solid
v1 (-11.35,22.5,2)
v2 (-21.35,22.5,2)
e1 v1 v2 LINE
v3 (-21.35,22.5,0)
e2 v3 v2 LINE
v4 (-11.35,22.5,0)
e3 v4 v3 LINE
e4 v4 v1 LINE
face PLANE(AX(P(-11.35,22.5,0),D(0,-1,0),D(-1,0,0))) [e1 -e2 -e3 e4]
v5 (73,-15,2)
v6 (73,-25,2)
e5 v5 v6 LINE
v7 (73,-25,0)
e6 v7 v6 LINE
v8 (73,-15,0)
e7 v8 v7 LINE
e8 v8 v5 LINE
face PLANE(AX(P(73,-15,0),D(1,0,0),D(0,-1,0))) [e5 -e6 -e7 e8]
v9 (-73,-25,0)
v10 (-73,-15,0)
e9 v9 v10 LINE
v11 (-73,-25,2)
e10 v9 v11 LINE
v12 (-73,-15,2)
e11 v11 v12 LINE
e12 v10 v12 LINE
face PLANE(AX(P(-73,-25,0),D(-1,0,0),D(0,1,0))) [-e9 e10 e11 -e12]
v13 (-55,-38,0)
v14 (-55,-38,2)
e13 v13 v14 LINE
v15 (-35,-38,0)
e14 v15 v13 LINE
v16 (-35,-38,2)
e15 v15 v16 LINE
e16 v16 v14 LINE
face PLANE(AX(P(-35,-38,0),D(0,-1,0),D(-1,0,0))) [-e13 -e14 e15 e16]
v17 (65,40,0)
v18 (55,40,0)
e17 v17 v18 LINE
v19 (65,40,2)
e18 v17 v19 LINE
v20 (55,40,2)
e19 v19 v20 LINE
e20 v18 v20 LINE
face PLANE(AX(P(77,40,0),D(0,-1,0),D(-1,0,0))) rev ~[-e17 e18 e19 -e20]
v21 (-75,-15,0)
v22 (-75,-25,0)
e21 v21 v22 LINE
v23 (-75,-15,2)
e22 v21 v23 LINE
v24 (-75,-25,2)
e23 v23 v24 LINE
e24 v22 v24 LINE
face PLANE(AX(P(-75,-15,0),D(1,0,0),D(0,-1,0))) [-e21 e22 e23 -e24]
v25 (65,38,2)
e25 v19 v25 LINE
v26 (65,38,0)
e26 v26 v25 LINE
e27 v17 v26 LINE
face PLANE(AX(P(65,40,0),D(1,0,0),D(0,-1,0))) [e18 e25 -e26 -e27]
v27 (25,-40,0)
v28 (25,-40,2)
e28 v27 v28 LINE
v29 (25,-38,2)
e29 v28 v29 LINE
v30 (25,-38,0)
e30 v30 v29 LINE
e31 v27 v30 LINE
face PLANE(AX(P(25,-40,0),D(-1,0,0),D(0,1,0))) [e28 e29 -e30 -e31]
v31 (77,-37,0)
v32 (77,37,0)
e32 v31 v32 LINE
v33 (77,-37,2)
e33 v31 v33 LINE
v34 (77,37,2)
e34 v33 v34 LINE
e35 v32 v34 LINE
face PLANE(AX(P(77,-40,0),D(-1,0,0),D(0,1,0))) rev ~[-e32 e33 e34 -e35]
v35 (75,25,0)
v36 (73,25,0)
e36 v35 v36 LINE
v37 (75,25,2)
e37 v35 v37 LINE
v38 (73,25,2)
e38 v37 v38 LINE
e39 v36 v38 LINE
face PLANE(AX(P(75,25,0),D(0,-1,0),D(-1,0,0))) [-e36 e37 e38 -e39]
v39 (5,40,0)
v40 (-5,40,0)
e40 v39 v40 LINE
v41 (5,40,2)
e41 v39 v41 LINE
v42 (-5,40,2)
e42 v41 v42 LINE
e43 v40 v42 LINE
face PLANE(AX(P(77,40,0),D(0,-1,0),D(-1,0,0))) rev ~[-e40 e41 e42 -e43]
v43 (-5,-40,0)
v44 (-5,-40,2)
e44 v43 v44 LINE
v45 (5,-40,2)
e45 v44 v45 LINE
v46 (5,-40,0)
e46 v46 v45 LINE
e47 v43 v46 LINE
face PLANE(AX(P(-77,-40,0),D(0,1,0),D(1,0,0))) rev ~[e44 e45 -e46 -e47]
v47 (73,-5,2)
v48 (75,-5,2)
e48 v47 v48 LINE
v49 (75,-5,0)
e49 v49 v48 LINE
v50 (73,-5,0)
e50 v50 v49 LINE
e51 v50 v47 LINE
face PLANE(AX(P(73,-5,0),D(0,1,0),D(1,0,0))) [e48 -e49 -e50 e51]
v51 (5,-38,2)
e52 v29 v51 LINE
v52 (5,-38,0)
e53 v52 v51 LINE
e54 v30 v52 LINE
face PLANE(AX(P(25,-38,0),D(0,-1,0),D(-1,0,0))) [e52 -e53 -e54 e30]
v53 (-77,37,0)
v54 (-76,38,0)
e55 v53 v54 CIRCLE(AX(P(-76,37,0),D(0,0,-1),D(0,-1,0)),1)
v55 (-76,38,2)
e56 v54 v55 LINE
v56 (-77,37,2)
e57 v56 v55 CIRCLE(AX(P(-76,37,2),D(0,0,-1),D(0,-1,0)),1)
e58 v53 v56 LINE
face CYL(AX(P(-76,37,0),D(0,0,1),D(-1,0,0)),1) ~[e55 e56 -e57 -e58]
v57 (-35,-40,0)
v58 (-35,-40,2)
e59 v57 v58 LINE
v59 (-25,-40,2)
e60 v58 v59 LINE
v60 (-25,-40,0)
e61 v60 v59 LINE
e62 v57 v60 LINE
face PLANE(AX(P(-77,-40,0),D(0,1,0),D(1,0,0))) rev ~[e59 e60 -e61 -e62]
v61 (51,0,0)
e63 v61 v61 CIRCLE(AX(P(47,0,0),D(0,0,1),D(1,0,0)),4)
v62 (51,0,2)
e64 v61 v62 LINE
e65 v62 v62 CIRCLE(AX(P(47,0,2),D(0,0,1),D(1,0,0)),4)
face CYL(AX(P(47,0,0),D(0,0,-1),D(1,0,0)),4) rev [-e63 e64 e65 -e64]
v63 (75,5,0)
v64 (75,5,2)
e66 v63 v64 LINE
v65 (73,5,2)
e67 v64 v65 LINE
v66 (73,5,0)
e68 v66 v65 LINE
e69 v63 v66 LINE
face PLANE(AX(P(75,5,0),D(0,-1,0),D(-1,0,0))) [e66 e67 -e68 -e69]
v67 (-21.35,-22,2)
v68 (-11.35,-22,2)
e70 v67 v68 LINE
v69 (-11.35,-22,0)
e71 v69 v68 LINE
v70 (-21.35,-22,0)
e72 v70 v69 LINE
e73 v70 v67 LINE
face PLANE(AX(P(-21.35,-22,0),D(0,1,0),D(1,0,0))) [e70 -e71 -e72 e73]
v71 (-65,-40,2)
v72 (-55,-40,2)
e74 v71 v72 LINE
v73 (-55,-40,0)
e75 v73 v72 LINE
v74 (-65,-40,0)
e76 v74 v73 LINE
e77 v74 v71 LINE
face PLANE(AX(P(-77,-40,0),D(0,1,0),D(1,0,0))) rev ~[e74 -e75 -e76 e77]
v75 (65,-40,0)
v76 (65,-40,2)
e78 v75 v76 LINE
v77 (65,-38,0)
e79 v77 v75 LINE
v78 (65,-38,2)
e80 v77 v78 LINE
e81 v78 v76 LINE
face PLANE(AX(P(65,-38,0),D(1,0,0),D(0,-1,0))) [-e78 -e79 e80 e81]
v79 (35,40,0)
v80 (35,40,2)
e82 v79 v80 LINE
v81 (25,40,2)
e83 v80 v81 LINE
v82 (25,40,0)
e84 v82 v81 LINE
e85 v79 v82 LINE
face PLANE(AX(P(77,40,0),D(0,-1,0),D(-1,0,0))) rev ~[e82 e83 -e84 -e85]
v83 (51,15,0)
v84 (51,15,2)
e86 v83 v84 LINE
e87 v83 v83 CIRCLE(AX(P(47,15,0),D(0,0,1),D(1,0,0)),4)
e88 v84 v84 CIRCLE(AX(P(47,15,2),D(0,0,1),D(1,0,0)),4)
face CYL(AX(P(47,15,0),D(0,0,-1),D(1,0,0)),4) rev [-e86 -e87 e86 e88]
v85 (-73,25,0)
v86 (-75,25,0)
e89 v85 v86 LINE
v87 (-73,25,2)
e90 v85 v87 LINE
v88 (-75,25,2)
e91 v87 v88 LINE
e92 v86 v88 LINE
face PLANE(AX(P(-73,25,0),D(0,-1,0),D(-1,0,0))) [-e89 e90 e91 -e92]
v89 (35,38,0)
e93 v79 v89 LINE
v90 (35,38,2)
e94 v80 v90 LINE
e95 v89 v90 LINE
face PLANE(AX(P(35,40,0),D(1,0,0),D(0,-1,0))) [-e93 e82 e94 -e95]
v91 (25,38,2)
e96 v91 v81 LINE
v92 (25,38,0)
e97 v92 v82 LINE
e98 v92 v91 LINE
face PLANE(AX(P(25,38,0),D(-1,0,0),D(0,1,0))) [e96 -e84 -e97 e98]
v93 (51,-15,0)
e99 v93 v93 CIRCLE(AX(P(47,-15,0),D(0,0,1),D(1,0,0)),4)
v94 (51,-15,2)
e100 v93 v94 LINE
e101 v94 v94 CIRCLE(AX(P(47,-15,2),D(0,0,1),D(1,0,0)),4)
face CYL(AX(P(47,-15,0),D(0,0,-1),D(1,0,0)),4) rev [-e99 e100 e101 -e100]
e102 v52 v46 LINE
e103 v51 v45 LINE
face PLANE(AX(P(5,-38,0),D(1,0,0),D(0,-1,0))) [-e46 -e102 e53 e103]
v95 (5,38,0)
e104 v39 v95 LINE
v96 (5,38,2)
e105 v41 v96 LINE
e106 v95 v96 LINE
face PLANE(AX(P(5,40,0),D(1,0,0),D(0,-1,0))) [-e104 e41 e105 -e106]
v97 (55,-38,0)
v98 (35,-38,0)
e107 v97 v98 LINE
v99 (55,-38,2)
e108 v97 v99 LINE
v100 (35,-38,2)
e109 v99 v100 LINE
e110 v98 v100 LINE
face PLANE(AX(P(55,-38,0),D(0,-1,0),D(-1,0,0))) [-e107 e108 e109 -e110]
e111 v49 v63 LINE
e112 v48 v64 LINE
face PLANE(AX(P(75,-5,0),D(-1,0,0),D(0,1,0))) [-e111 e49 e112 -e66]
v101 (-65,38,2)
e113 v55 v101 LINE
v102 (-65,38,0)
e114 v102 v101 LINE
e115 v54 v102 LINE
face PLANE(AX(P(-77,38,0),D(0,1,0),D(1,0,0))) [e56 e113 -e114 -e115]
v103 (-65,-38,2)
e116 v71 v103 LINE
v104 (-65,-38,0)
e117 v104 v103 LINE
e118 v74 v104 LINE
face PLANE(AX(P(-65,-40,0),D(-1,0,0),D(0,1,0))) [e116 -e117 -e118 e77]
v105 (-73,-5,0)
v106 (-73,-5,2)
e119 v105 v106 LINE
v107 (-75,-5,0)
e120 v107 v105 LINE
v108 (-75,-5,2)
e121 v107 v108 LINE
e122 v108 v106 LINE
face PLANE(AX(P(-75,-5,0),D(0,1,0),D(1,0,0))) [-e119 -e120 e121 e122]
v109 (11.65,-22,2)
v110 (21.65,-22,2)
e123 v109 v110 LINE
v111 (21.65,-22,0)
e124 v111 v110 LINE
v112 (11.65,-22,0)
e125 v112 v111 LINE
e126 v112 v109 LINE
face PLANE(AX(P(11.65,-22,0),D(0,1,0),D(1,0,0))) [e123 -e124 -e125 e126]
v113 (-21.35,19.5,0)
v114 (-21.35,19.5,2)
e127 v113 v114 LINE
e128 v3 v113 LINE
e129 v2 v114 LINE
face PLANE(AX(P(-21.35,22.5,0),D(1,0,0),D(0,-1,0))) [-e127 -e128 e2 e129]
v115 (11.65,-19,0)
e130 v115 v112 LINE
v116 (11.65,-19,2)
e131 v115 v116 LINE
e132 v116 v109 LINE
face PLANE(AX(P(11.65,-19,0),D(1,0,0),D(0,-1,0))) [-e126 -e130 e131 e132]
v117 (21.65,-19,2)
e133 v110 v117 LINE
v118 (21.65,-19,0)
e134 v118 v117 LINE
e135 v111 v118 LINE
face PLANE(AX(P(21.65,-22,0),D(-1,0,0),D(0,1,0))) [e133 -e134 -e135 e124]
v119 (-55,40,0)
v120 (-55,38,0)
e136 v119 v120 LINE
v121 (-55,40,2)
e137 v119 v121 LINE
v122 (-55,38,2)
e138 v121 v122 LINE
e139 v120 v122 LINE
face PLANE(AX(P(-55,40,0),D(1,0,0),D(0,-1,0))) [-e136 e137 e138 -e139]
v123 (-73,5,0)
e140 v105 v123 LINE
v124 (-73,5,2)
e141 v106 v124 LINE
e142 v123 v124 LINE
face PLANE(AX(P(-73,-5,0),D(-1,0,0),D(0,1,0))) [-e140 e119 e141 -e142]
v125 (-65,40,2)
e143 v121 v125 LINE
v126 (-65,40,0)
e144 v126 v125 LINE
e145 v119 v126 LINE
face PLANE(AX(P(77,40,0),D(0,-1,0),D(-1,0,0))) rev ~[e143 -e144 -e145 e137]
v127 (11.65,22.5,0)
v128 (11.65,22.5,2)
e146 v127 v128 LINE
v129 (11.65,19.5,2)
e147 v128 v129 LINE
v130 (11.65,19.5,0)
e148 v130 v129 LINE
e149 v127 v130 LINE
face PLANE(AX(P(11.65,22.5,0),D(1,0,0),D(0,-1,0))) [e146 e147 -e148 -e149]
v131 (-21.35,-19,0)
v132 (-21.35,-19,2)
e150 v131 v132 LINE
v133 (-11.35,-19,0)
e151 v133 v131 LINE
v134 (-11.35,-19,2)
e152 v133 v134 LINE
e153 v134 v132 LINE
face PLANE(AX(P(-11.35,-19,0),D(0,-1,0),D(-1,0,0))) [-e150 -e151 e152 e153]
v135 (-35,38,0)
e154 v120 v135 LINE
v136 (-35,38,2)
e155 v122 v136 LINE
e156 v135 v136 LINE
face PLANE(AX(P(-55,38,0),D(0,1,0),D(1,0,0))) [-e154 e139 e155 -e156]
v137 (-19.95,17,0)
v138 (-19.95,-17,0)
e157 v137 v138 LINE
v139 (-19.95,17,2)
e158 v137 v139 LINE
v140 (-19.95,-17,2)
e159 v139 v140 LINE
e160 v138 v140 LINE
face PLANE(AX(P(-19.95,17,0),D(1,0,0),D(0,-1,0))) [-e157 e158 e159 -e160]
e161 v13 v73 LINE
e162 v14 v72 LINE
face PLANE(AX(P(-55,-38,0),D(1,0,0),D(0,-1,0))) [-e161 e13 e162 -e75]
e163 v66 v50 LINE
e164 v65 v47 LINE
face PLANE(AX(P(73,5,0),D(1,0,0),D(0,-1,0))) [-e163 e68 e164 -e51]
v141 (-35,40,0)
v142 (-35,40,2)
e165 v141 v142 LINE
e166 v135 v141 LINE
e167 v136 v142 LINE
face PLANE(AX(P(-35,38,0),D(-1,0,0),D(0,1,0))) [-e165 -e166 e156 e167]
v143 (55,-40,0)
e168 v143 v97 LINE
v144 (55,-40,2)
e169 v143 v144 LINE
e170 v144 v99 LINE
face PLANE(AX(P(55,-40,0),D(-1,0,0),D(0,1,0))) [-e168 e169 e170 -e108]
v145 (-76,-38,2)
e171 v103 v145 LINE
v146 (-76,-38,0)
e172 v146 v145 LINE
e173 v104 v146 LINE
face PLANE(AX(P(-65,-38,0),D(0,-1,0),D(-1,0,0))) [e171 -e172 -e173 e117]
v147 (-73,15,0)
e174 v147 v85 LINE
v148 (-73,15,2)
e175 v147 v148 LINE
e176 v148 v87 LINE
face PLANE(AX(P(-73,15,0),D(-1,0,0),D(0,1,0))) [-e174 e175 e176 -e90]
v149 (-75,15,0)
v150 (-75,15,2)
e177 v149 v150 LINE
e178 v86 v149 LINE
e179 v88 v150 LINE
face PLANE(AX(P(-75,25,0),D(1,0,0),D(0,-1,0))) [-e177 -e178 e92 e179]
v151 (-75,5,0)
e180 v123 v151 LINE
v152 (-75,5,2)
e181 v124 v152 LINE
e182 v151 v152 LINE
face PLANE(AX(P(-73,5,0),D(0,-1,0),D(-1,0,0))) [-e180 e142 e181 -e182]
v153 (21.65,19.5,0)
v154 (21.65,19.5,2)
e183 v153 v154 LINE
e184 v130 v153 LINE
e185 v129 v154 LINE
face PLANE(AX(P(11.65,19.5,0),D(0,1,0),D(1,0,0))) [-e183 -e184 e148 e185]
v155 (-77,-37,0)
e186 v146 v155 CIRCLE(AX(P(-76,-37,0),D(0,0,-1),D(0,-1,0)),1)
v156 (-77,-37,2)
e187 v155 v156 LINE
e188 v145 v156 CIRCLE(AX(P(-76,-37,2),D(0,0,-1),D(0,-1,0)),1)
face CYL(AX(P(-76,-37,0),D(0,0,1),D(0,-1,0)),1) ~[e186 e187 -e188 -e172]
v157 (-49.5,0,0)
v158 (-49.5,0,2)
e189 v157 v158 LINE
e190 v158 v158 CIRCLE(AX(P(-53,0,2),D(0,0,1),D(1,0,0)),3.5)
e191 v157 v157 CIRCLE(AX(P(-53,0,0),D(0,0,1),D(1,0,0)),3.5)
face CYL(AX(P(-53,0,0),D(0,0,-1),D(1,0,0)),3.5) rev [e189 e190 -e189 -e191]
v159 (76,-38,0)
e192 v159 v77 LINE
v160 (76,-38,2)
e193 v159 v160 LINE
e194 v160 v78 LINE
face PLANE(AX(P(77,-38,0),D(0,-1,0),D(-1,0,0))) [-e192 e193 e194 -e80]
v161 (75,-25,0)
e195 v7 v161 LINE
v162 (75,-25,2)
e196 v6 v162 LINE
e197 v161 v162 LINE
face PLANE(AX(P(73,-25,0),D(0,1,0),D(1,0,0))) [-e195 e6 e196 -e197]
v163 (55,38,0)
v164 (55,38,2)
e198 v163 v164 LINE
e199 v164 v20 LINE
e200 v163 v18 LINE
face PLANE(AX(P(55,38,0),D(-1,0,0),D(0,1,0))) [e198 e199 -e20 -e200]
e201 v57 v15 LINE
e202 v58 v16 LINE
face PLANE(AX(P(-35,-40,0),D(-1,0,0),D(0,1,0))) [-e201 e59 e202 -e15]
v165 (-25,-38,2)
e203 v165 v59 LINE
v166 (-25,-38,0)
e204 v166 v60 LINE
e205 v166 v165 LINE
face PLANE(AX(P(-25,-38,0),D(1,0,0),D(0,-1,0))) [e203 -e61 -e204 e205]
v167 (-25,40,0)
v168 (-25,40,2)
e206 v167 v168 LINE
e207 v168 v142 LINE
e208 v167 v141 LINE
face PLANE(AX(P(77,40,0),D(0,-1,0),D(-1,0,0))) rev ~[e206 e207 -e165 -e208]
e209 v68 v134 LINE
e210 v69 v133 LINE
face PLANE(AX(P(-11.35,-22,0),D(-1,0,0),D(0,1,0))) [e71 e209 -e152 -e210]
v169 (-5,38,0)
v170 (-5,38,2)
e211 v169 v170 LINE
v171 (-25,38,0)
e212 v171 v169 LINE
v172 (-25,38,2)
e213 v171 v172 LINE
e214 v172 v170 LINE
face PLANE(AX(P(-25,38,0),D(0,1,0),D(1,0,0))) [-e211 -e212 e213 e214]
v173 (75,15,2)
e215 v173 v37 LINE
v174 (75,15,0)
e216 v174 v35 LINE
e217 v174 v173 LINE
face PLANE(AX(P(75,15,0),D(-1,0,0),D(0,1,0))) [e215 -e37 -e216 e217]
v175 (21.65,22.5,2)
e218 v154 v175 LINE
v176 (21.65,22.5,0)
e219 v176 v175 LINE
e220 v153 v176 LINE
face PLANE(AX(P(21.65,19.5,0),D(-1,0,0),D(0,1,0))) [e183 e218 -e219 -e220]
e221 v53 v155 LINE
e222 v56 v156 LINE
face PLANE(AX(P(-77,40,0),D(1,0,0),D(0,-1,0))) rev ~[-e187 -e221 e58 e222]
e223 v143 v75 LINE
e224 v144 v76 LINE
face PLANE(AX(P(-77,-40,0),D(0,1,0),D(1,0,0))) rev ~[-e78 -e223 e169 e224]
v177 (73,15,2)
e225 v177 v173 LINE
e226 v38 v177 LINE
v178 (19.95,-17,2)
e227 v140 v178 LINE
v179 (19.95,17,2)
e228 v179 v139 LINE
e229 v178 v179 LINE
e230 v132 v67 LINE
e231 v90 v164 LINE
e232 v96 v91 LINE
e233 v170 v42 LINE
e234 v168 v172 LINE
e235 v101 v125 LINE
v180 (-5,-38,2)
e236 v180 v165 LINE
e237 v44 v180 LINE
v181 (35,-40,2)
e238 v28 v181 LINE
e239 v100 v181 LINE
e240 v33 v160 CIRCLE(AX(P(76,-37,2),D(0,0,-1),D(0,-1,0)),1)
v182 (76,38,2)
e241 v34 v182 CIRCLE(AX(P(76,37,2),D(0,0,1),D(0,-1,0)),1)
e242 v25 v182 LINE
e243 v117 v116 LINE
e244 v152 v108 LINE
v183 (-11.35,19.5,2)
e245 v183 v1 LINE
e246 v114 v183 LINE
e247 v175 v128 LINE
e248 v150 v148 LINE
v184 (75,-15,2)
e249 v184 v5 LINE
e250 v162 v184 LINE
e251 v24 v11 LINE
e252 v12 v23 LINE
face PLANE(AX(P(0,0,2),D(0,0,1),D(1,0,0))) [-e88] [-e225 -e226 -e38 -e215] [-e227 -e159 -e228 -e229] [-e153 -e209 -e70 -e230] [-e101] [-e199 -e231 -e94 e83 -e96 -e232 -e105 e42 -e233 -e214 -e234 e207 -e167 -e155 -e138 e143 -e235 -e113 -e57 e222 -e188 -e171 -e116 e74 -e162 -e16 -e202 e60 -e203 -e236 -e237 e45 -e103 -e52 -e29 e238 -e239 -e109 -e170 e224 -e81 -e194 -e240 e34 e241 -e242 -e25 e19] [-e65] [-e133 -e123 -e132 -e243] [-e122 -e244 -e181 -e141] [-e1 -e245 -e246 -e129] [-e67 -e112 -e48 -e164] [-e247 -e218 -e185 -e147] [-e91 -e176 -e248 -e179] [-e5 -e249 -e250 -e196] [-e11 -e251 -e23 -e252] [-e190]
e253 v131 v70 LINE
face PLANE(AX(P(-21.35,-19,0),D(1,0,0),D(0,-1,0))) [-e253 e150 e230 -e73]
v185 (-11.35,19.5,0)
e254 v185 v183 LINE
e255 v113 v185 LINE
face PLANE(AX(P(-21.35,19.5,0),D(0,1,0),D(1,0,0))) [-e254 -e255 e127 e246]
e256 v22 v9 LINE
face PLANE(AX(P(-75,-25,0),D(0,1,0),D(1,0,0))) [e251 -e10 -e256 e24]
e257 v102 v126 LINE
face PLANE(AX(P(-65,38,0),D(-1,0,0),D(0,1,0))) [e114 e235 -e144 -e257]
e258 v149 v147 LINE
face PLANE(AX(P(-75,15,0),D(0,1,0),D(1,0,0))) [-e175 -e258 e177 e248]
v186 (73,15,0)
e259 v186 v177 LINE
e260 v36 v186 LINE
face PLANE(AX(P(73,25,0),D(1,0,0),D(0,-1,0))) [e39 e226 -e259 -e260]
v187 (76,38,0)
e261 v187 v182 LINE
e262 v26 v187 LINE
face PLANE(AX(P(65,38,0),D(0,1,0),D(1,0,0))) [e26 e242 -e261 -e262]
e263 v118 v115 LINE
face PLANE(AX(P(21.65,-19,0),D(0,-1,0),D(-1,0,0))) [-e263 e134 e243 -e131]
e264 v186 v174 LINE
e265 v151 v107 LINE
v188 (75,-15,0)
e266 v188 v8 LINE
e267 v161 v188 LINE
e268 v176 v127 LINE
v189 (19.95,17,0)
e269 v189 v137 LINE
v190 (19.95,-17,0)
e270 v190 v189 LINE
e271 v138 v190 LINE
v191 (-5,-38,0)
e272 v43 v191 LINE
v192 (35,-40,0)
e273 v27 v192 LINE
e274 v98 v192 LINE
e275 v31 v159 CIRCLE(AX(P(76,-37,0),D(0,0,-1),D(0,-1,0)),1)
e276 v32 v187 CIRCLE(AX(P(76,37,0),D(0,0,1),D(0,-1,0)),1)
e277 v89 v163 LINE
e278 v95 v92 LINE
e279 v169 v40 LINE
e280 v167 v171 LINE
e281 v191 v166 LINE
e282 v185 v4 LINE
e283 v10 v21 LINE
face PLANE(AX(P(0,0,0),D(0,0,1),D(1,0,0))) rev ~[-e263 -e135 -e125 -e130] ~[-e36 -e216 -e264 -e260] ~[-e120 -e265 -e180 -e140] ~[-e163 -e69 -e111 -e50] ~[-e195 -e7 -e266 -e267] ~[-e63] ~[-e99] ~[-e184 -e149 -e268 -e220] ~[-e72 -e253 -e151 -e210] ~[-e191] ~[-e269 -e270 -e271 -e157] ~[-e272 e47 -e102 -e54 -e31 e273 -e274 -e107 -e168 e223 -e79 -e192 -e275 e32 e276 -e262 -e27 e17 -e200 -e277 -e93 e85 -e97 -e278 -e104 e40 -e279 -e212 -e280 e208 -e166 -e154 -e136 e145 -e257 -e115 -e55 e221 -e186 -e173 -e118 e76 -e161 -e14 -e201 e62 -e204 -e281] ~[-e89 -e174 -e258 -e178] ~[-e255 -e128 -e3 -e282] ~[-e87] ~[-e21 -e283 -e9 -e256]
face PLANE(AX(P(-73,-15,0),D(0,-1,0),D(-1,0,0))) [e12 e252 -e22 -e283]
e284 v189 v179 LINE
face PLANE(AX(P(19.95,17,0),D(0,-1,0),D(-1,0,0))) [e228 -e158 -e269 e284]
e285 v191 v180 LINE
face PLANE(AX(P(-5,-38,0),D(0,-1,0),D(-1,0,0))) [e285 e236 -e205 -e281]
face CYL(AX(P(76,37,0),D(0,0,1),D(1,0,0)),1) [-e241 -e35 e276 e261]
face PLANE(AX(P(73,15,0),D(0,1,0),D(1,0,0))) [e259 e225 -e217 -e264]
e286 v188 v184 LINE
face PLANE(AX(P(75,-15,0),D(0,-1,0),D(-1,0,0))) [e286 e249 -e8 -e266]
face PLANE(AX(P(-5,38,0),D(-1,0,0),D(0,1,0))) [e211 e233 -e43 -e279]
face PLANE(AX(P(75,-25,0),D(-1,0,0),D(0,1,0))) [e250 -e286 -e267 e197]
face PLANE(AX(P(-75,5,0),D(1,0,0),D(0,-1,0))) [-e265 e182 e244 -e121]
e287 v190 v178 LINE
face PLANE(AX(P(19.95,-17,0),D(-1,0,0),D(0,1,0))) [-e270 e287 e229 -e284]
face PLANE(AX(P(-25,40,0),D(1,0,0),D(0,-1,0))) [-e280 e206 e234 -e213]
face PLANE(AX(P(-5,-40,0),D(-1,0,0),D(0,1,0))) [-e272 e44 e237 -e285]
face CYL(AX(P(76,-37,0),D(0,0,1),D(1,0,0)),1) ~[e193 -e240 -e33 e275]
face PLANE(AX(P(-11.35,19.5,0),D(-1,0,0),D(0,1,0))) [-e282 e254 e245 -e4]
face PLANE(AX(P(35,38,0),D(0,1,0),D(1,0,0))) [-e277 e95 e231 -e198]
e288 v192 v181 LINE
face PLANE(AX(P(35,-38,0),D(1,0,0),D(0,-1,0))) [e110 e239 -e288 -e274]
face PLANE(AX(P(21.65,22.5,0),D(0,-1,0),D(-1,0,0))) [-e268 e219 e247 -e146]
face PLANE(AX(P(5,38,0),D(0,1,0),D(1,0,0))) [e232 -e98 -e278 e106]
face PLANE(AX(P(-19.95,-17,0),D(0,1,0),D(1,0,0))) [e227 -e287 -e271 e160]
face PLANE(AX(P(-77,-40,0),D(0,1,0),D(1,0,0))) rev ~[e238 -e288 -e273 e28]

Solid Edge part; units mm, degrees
sketch "Sketch1" plane through (0, 0, 0) normal (0, 0, 1) x (1, 0, 0)
  line L0 (77, -40) -> (77, 40)
  line L1 (77, 40) -> (-77, 40)
  line L2 (-77, 40) -> (-77, -40)
  line L3 (-77, -40) -> (77, -40)
extrude "Protrusion1" add sketch "Sketch1" along normal blind 2
sketch "Sketch2" plane through (0, 0, 0) normal (0, 0, 1) x (1, 0, 0)
  line L0 (-77, 38) -> (-65, 38)
  line L1 (-65, 38) -> (-65, 40)
  line L2 (-65, 40) -> (-77, 40)
  line L3 (-77, 40) -> (-77, 38)
  line L4 (-55, 38) -> (-35, 38)
  line L5 (-35, 38) -> (-35, 40)
  line L6 (-35, 40) -> (-55, 40)
  line L7 (-55, 40) -> (-55, 38)
  line L8 (-25, 38) -> (-5, 38)
  line L9 (-5, 38) -> (-5, 40)
  line L10 (-5, 40) -> (-25, 40)
  line L11 (-25, 40) -> (-25, 38)
  line L12 (5, 38) -> (25, 38)
  line L13 (25, 38) -> (25, 40)
  line L14 (25, 40) -> (5, 40)
  line L15 (5, 40) -> (5, 38)
  line L16 (35, 38) -> (55, 38)
  line L17 (55, 38) -> (55, 40)
  line L18 (55, 40) -> (35, 40)
  line L19 (35, 40) -> (35, 38)
  line L20 (65, 38) -> (77, 38)
  line L21 (77, 40) -> (77, 38)
  line L22 (77, 40) -> (65, 40)
  line L23 (65, 40) -> (65, 38)
  line L24 (73, 25) -> (73, 15)
  line L25 (73, 15) -> (75, 15)
  line L26 (75, 15) -> (75, 25)
  line L27 (75, 25) -> (73, 25)
  line L28 (73, 5) -> (73, -5)
  line L29 (73, -5) -> (75, -5)
  line L30 (75, -5) -> (75, 5)
  line L31 (75, 5) -> (73, 5)
  line L32 (73, -15) -> (73, -25)
  line L33 (73, -25) -> (75, -25)
  line L34 (75, -25) -> (75, -15)
  line L35 (75, -15) -> (73, -15)
  line L36 (77, -38) -> (65, -38)
  line L37 (65, -38) -> (65, -40)
  line L38 (65, -40) -> (77, -40)
  line L39 (77, -38) -> (77, -40)
  line L40 (55, -38) -> (35, -38)
  line L41 (35, -38) -> (35, -40)
  line L42 (35, -40) -> (55, -40)
  line L43 (55, -40) -> (55, -38)
  line L44 (25, -38) -> (5, -38)
  line L45 (5, -38) -> (5, -40)
  line L46 (5, -40) -> (25, -40)
  line L47 (25, -40) -> (25, -38)
  line L48 (-5, -38) -> (-25, -38)
  line L49 (-25, -38) -> (-25, -40)
  line L50 (-25, -40) -> (-5, -40)
  line L51 (-5, -40) -> (-5, -38)
  line L52 (-35, -38) -> (-55, -38)
  line L53 (-55, -38) -> (-55, -40)
  line L54 (-55, -40) -> (-35, -40)
  line L55 (-35, -40) -> (-35, -38)
  line L56 (-65, -38) -> (-77, -38)
  line L57 (-77, -40) -> (-77, -38)
  line L58 (-77, -40) -> (-65, -40)
  line L59 (-65, -40) -> (-65, -38)
  line L60 (-73, -25) -> (-73, -15)
  line L61 (-73, -15) -> (-75, -15)
  line L62 (-75, -15) -> (-75, -25)
  line L63 (-75, -25) -> (-73, -25)
  line L64 (-73, -5) -> (-73, 5)
  line L65 (-73, 5) -> (-75, 5)
  line L66 (-75, 5) -> (-75, -5)
  line L67 (-75, -5) -> (-73, -5)
  line L68 (-73, 15) -> (-73, 25)
  line L69 (-73, 25) -> (-75, 25)
  line L70 (-75, 25) -> (-75, 15)
  line L71 (-75, 15) -> (-73, 15)
  dimension "D1" = 20
  dimension "D2" = 2
  dimension "D3" = 20
  dimension "D4" = 2
  dimension "D5" = 20
  dimension "D6" = 2
  dimension "D7" = 12
  dimension "D8" = 2
  dimension "D9" = 20
  dimension "D10" = 2
  dimension "D11" = 20
  dimension "D12" = 2
  dimension "D13" = 20
  dimension "D14" = 2
  dimension "D15" = 12
  dimension "D16" = 2
  dimension "D17" = 10
  dimension "D18" = 10
  dimension "D19" = 10
  dimension "D20" = 20
  dimension "D21" = 2
  dimension "D22" = 10
  dimension "D23" = 10
  dimension "D24" = 10
  dimension "D25" = 10
  dimension "D26" = 20
  dimension "D27" = 2
  dimension "D28" = 10
  dimension "D29" = 10
  dimension "D30" = 10
  dimension "D31" = 2
  dimension "D32" = 10
  dimension "D33" = 2
  dimension "D34" = 10
  dimension "D35" = 2
  dimension "D36" = 10
  dimension "D37" = 2
  dimension "D38" = 10
  dimension "D39" = 2
  dimension "D40" = 10
  dimension "D41" = 2
  dimension "D42" = 10
  dimension "D43" = 2
  dimension "D44" = 2
  dimension "D45" = 2
  dimension "D46" = 15
  dimension "D47" = 10
  dimension "D48" = 10
  dimension "D49" = 15
  dimension "D50" = 10
  dimension "D51" = 15
  dimension "D52" = 2
  dimension "D53" = 2
  dimension "D54" = 2
  dimension "D55" = 10
  dimension "D56" = 15
extrude "ExtrudedCutout_1" cut sketch "Sketch2" along normal blind 2
sketch "Sketch3" plane through (0, 0, 0) normal (0, 0, 1) x (1, 0, 0)
  line L0 (19.95, 17) -> (-19.95, 17)
  line L1 (-19.95, 17) -> (-19.95, -17)
  line L2 (-19.95, -17) -> (19.95, -17)
  line L3 (19.95, -17) -> (19.95, 17)
extrude "ExtrudedCutout_2" cut sketch "Sketch3" along normal blind 2
sketch "Sketch4" plane through (0, 0, 0) normal (0, 0, 1) x (1, 0, 0)
  line L0 (-11.35, 22.5) -> (-21.35, 22.5)
  line L1 (-21.35, 22.5) -> (-21.35, 19.5)
  line L2 (-21.35, 19.5) -> (-11.35, 19.5)
  line L3 (-11.35, 19.5) -> (-11.35, 22.5)
  line L4 (21.65, 22.5) -> (11.65, 22.5)
  line L5 (11.65, 22.5) -> (11.65, 19.5)
  line L6 (11.65, 19.5) -> (21.65, 19.5)
  line L7 (21.65, 19.5) -> (21.65, 22.5)
  line L8 (-11.35, -19) -> (-21.35, -19)
  line L9 (-21.35, -19) -> (-21.35, -22)
  line L10 (-21.35, -22) -> (-11.35, -22)
  line L11 (-11.35, -22) -> (-11.35, -19)
  line L12 (21.65, -19) -> (11.65, -19)
  line L13 (11.65, -19) -> (11.65, -22)
  line L14 (11.65, -22) -> (21.65, -22)
  line L15 (21.65, -22) -> (21.65, -19)
  dimension "D1" = 45
  dimension "D2" = 45
  dimension "D3" = 39.9
  dimension "D4" = 34
  dimension "D5" = 2.7
  dimension "D6" = 10
  dimension "D7" = 3
  dimension "D8" = 10
  dimension "D9" = 3
  dimension "D10" = 10
  dimension "D11" = 3
  dimension "D12" = 10
  dimension "D13" = 3
  dimension "D14" = 2.5
  dimension "D15" = 2.5
  dimension "D16" = 2
  dimension "D17" = 2
  dimension "D18" = 1
  dimension "D19" = 1
  dimension "D20" = 1
  dimension "D21" = 1
extrude "ExtrudedCutout_3" cut sketch "Sketch4" along normal blind 2
sketch "Sketch5" plane through (0, 0, 0) normal (0, 0, 1) x (1, 0, 0)
  circle A0 centre (47, 15) radius 4
  circle A1 centre (47, 0) radius 4
  circle A2 centre (47, -15) radius 4
  circle A3 centre (-53, 0) radius 3.5
  dimension "D1" = 8
  dimension "D2" = 8
  dimension "D3" = 8
  dimension "D4" = 15
  dimension "D5" = 15
  dimension "D6" = 23
  dimension "D7" = 30
  dimension "D8" = 7
  dimension "D9" = 38
  dimension "D10" = 20
extrude "ExtrudedCutout_7" cut sketch "Sketch5" along normal blind 2
fillet "Round_1" radius 1 4 edges at (-77, -38, 1) (-77, 38, 1) (77, -38, 1) (77, 38, 1)
properties material "Acrylic, high impact grade"
